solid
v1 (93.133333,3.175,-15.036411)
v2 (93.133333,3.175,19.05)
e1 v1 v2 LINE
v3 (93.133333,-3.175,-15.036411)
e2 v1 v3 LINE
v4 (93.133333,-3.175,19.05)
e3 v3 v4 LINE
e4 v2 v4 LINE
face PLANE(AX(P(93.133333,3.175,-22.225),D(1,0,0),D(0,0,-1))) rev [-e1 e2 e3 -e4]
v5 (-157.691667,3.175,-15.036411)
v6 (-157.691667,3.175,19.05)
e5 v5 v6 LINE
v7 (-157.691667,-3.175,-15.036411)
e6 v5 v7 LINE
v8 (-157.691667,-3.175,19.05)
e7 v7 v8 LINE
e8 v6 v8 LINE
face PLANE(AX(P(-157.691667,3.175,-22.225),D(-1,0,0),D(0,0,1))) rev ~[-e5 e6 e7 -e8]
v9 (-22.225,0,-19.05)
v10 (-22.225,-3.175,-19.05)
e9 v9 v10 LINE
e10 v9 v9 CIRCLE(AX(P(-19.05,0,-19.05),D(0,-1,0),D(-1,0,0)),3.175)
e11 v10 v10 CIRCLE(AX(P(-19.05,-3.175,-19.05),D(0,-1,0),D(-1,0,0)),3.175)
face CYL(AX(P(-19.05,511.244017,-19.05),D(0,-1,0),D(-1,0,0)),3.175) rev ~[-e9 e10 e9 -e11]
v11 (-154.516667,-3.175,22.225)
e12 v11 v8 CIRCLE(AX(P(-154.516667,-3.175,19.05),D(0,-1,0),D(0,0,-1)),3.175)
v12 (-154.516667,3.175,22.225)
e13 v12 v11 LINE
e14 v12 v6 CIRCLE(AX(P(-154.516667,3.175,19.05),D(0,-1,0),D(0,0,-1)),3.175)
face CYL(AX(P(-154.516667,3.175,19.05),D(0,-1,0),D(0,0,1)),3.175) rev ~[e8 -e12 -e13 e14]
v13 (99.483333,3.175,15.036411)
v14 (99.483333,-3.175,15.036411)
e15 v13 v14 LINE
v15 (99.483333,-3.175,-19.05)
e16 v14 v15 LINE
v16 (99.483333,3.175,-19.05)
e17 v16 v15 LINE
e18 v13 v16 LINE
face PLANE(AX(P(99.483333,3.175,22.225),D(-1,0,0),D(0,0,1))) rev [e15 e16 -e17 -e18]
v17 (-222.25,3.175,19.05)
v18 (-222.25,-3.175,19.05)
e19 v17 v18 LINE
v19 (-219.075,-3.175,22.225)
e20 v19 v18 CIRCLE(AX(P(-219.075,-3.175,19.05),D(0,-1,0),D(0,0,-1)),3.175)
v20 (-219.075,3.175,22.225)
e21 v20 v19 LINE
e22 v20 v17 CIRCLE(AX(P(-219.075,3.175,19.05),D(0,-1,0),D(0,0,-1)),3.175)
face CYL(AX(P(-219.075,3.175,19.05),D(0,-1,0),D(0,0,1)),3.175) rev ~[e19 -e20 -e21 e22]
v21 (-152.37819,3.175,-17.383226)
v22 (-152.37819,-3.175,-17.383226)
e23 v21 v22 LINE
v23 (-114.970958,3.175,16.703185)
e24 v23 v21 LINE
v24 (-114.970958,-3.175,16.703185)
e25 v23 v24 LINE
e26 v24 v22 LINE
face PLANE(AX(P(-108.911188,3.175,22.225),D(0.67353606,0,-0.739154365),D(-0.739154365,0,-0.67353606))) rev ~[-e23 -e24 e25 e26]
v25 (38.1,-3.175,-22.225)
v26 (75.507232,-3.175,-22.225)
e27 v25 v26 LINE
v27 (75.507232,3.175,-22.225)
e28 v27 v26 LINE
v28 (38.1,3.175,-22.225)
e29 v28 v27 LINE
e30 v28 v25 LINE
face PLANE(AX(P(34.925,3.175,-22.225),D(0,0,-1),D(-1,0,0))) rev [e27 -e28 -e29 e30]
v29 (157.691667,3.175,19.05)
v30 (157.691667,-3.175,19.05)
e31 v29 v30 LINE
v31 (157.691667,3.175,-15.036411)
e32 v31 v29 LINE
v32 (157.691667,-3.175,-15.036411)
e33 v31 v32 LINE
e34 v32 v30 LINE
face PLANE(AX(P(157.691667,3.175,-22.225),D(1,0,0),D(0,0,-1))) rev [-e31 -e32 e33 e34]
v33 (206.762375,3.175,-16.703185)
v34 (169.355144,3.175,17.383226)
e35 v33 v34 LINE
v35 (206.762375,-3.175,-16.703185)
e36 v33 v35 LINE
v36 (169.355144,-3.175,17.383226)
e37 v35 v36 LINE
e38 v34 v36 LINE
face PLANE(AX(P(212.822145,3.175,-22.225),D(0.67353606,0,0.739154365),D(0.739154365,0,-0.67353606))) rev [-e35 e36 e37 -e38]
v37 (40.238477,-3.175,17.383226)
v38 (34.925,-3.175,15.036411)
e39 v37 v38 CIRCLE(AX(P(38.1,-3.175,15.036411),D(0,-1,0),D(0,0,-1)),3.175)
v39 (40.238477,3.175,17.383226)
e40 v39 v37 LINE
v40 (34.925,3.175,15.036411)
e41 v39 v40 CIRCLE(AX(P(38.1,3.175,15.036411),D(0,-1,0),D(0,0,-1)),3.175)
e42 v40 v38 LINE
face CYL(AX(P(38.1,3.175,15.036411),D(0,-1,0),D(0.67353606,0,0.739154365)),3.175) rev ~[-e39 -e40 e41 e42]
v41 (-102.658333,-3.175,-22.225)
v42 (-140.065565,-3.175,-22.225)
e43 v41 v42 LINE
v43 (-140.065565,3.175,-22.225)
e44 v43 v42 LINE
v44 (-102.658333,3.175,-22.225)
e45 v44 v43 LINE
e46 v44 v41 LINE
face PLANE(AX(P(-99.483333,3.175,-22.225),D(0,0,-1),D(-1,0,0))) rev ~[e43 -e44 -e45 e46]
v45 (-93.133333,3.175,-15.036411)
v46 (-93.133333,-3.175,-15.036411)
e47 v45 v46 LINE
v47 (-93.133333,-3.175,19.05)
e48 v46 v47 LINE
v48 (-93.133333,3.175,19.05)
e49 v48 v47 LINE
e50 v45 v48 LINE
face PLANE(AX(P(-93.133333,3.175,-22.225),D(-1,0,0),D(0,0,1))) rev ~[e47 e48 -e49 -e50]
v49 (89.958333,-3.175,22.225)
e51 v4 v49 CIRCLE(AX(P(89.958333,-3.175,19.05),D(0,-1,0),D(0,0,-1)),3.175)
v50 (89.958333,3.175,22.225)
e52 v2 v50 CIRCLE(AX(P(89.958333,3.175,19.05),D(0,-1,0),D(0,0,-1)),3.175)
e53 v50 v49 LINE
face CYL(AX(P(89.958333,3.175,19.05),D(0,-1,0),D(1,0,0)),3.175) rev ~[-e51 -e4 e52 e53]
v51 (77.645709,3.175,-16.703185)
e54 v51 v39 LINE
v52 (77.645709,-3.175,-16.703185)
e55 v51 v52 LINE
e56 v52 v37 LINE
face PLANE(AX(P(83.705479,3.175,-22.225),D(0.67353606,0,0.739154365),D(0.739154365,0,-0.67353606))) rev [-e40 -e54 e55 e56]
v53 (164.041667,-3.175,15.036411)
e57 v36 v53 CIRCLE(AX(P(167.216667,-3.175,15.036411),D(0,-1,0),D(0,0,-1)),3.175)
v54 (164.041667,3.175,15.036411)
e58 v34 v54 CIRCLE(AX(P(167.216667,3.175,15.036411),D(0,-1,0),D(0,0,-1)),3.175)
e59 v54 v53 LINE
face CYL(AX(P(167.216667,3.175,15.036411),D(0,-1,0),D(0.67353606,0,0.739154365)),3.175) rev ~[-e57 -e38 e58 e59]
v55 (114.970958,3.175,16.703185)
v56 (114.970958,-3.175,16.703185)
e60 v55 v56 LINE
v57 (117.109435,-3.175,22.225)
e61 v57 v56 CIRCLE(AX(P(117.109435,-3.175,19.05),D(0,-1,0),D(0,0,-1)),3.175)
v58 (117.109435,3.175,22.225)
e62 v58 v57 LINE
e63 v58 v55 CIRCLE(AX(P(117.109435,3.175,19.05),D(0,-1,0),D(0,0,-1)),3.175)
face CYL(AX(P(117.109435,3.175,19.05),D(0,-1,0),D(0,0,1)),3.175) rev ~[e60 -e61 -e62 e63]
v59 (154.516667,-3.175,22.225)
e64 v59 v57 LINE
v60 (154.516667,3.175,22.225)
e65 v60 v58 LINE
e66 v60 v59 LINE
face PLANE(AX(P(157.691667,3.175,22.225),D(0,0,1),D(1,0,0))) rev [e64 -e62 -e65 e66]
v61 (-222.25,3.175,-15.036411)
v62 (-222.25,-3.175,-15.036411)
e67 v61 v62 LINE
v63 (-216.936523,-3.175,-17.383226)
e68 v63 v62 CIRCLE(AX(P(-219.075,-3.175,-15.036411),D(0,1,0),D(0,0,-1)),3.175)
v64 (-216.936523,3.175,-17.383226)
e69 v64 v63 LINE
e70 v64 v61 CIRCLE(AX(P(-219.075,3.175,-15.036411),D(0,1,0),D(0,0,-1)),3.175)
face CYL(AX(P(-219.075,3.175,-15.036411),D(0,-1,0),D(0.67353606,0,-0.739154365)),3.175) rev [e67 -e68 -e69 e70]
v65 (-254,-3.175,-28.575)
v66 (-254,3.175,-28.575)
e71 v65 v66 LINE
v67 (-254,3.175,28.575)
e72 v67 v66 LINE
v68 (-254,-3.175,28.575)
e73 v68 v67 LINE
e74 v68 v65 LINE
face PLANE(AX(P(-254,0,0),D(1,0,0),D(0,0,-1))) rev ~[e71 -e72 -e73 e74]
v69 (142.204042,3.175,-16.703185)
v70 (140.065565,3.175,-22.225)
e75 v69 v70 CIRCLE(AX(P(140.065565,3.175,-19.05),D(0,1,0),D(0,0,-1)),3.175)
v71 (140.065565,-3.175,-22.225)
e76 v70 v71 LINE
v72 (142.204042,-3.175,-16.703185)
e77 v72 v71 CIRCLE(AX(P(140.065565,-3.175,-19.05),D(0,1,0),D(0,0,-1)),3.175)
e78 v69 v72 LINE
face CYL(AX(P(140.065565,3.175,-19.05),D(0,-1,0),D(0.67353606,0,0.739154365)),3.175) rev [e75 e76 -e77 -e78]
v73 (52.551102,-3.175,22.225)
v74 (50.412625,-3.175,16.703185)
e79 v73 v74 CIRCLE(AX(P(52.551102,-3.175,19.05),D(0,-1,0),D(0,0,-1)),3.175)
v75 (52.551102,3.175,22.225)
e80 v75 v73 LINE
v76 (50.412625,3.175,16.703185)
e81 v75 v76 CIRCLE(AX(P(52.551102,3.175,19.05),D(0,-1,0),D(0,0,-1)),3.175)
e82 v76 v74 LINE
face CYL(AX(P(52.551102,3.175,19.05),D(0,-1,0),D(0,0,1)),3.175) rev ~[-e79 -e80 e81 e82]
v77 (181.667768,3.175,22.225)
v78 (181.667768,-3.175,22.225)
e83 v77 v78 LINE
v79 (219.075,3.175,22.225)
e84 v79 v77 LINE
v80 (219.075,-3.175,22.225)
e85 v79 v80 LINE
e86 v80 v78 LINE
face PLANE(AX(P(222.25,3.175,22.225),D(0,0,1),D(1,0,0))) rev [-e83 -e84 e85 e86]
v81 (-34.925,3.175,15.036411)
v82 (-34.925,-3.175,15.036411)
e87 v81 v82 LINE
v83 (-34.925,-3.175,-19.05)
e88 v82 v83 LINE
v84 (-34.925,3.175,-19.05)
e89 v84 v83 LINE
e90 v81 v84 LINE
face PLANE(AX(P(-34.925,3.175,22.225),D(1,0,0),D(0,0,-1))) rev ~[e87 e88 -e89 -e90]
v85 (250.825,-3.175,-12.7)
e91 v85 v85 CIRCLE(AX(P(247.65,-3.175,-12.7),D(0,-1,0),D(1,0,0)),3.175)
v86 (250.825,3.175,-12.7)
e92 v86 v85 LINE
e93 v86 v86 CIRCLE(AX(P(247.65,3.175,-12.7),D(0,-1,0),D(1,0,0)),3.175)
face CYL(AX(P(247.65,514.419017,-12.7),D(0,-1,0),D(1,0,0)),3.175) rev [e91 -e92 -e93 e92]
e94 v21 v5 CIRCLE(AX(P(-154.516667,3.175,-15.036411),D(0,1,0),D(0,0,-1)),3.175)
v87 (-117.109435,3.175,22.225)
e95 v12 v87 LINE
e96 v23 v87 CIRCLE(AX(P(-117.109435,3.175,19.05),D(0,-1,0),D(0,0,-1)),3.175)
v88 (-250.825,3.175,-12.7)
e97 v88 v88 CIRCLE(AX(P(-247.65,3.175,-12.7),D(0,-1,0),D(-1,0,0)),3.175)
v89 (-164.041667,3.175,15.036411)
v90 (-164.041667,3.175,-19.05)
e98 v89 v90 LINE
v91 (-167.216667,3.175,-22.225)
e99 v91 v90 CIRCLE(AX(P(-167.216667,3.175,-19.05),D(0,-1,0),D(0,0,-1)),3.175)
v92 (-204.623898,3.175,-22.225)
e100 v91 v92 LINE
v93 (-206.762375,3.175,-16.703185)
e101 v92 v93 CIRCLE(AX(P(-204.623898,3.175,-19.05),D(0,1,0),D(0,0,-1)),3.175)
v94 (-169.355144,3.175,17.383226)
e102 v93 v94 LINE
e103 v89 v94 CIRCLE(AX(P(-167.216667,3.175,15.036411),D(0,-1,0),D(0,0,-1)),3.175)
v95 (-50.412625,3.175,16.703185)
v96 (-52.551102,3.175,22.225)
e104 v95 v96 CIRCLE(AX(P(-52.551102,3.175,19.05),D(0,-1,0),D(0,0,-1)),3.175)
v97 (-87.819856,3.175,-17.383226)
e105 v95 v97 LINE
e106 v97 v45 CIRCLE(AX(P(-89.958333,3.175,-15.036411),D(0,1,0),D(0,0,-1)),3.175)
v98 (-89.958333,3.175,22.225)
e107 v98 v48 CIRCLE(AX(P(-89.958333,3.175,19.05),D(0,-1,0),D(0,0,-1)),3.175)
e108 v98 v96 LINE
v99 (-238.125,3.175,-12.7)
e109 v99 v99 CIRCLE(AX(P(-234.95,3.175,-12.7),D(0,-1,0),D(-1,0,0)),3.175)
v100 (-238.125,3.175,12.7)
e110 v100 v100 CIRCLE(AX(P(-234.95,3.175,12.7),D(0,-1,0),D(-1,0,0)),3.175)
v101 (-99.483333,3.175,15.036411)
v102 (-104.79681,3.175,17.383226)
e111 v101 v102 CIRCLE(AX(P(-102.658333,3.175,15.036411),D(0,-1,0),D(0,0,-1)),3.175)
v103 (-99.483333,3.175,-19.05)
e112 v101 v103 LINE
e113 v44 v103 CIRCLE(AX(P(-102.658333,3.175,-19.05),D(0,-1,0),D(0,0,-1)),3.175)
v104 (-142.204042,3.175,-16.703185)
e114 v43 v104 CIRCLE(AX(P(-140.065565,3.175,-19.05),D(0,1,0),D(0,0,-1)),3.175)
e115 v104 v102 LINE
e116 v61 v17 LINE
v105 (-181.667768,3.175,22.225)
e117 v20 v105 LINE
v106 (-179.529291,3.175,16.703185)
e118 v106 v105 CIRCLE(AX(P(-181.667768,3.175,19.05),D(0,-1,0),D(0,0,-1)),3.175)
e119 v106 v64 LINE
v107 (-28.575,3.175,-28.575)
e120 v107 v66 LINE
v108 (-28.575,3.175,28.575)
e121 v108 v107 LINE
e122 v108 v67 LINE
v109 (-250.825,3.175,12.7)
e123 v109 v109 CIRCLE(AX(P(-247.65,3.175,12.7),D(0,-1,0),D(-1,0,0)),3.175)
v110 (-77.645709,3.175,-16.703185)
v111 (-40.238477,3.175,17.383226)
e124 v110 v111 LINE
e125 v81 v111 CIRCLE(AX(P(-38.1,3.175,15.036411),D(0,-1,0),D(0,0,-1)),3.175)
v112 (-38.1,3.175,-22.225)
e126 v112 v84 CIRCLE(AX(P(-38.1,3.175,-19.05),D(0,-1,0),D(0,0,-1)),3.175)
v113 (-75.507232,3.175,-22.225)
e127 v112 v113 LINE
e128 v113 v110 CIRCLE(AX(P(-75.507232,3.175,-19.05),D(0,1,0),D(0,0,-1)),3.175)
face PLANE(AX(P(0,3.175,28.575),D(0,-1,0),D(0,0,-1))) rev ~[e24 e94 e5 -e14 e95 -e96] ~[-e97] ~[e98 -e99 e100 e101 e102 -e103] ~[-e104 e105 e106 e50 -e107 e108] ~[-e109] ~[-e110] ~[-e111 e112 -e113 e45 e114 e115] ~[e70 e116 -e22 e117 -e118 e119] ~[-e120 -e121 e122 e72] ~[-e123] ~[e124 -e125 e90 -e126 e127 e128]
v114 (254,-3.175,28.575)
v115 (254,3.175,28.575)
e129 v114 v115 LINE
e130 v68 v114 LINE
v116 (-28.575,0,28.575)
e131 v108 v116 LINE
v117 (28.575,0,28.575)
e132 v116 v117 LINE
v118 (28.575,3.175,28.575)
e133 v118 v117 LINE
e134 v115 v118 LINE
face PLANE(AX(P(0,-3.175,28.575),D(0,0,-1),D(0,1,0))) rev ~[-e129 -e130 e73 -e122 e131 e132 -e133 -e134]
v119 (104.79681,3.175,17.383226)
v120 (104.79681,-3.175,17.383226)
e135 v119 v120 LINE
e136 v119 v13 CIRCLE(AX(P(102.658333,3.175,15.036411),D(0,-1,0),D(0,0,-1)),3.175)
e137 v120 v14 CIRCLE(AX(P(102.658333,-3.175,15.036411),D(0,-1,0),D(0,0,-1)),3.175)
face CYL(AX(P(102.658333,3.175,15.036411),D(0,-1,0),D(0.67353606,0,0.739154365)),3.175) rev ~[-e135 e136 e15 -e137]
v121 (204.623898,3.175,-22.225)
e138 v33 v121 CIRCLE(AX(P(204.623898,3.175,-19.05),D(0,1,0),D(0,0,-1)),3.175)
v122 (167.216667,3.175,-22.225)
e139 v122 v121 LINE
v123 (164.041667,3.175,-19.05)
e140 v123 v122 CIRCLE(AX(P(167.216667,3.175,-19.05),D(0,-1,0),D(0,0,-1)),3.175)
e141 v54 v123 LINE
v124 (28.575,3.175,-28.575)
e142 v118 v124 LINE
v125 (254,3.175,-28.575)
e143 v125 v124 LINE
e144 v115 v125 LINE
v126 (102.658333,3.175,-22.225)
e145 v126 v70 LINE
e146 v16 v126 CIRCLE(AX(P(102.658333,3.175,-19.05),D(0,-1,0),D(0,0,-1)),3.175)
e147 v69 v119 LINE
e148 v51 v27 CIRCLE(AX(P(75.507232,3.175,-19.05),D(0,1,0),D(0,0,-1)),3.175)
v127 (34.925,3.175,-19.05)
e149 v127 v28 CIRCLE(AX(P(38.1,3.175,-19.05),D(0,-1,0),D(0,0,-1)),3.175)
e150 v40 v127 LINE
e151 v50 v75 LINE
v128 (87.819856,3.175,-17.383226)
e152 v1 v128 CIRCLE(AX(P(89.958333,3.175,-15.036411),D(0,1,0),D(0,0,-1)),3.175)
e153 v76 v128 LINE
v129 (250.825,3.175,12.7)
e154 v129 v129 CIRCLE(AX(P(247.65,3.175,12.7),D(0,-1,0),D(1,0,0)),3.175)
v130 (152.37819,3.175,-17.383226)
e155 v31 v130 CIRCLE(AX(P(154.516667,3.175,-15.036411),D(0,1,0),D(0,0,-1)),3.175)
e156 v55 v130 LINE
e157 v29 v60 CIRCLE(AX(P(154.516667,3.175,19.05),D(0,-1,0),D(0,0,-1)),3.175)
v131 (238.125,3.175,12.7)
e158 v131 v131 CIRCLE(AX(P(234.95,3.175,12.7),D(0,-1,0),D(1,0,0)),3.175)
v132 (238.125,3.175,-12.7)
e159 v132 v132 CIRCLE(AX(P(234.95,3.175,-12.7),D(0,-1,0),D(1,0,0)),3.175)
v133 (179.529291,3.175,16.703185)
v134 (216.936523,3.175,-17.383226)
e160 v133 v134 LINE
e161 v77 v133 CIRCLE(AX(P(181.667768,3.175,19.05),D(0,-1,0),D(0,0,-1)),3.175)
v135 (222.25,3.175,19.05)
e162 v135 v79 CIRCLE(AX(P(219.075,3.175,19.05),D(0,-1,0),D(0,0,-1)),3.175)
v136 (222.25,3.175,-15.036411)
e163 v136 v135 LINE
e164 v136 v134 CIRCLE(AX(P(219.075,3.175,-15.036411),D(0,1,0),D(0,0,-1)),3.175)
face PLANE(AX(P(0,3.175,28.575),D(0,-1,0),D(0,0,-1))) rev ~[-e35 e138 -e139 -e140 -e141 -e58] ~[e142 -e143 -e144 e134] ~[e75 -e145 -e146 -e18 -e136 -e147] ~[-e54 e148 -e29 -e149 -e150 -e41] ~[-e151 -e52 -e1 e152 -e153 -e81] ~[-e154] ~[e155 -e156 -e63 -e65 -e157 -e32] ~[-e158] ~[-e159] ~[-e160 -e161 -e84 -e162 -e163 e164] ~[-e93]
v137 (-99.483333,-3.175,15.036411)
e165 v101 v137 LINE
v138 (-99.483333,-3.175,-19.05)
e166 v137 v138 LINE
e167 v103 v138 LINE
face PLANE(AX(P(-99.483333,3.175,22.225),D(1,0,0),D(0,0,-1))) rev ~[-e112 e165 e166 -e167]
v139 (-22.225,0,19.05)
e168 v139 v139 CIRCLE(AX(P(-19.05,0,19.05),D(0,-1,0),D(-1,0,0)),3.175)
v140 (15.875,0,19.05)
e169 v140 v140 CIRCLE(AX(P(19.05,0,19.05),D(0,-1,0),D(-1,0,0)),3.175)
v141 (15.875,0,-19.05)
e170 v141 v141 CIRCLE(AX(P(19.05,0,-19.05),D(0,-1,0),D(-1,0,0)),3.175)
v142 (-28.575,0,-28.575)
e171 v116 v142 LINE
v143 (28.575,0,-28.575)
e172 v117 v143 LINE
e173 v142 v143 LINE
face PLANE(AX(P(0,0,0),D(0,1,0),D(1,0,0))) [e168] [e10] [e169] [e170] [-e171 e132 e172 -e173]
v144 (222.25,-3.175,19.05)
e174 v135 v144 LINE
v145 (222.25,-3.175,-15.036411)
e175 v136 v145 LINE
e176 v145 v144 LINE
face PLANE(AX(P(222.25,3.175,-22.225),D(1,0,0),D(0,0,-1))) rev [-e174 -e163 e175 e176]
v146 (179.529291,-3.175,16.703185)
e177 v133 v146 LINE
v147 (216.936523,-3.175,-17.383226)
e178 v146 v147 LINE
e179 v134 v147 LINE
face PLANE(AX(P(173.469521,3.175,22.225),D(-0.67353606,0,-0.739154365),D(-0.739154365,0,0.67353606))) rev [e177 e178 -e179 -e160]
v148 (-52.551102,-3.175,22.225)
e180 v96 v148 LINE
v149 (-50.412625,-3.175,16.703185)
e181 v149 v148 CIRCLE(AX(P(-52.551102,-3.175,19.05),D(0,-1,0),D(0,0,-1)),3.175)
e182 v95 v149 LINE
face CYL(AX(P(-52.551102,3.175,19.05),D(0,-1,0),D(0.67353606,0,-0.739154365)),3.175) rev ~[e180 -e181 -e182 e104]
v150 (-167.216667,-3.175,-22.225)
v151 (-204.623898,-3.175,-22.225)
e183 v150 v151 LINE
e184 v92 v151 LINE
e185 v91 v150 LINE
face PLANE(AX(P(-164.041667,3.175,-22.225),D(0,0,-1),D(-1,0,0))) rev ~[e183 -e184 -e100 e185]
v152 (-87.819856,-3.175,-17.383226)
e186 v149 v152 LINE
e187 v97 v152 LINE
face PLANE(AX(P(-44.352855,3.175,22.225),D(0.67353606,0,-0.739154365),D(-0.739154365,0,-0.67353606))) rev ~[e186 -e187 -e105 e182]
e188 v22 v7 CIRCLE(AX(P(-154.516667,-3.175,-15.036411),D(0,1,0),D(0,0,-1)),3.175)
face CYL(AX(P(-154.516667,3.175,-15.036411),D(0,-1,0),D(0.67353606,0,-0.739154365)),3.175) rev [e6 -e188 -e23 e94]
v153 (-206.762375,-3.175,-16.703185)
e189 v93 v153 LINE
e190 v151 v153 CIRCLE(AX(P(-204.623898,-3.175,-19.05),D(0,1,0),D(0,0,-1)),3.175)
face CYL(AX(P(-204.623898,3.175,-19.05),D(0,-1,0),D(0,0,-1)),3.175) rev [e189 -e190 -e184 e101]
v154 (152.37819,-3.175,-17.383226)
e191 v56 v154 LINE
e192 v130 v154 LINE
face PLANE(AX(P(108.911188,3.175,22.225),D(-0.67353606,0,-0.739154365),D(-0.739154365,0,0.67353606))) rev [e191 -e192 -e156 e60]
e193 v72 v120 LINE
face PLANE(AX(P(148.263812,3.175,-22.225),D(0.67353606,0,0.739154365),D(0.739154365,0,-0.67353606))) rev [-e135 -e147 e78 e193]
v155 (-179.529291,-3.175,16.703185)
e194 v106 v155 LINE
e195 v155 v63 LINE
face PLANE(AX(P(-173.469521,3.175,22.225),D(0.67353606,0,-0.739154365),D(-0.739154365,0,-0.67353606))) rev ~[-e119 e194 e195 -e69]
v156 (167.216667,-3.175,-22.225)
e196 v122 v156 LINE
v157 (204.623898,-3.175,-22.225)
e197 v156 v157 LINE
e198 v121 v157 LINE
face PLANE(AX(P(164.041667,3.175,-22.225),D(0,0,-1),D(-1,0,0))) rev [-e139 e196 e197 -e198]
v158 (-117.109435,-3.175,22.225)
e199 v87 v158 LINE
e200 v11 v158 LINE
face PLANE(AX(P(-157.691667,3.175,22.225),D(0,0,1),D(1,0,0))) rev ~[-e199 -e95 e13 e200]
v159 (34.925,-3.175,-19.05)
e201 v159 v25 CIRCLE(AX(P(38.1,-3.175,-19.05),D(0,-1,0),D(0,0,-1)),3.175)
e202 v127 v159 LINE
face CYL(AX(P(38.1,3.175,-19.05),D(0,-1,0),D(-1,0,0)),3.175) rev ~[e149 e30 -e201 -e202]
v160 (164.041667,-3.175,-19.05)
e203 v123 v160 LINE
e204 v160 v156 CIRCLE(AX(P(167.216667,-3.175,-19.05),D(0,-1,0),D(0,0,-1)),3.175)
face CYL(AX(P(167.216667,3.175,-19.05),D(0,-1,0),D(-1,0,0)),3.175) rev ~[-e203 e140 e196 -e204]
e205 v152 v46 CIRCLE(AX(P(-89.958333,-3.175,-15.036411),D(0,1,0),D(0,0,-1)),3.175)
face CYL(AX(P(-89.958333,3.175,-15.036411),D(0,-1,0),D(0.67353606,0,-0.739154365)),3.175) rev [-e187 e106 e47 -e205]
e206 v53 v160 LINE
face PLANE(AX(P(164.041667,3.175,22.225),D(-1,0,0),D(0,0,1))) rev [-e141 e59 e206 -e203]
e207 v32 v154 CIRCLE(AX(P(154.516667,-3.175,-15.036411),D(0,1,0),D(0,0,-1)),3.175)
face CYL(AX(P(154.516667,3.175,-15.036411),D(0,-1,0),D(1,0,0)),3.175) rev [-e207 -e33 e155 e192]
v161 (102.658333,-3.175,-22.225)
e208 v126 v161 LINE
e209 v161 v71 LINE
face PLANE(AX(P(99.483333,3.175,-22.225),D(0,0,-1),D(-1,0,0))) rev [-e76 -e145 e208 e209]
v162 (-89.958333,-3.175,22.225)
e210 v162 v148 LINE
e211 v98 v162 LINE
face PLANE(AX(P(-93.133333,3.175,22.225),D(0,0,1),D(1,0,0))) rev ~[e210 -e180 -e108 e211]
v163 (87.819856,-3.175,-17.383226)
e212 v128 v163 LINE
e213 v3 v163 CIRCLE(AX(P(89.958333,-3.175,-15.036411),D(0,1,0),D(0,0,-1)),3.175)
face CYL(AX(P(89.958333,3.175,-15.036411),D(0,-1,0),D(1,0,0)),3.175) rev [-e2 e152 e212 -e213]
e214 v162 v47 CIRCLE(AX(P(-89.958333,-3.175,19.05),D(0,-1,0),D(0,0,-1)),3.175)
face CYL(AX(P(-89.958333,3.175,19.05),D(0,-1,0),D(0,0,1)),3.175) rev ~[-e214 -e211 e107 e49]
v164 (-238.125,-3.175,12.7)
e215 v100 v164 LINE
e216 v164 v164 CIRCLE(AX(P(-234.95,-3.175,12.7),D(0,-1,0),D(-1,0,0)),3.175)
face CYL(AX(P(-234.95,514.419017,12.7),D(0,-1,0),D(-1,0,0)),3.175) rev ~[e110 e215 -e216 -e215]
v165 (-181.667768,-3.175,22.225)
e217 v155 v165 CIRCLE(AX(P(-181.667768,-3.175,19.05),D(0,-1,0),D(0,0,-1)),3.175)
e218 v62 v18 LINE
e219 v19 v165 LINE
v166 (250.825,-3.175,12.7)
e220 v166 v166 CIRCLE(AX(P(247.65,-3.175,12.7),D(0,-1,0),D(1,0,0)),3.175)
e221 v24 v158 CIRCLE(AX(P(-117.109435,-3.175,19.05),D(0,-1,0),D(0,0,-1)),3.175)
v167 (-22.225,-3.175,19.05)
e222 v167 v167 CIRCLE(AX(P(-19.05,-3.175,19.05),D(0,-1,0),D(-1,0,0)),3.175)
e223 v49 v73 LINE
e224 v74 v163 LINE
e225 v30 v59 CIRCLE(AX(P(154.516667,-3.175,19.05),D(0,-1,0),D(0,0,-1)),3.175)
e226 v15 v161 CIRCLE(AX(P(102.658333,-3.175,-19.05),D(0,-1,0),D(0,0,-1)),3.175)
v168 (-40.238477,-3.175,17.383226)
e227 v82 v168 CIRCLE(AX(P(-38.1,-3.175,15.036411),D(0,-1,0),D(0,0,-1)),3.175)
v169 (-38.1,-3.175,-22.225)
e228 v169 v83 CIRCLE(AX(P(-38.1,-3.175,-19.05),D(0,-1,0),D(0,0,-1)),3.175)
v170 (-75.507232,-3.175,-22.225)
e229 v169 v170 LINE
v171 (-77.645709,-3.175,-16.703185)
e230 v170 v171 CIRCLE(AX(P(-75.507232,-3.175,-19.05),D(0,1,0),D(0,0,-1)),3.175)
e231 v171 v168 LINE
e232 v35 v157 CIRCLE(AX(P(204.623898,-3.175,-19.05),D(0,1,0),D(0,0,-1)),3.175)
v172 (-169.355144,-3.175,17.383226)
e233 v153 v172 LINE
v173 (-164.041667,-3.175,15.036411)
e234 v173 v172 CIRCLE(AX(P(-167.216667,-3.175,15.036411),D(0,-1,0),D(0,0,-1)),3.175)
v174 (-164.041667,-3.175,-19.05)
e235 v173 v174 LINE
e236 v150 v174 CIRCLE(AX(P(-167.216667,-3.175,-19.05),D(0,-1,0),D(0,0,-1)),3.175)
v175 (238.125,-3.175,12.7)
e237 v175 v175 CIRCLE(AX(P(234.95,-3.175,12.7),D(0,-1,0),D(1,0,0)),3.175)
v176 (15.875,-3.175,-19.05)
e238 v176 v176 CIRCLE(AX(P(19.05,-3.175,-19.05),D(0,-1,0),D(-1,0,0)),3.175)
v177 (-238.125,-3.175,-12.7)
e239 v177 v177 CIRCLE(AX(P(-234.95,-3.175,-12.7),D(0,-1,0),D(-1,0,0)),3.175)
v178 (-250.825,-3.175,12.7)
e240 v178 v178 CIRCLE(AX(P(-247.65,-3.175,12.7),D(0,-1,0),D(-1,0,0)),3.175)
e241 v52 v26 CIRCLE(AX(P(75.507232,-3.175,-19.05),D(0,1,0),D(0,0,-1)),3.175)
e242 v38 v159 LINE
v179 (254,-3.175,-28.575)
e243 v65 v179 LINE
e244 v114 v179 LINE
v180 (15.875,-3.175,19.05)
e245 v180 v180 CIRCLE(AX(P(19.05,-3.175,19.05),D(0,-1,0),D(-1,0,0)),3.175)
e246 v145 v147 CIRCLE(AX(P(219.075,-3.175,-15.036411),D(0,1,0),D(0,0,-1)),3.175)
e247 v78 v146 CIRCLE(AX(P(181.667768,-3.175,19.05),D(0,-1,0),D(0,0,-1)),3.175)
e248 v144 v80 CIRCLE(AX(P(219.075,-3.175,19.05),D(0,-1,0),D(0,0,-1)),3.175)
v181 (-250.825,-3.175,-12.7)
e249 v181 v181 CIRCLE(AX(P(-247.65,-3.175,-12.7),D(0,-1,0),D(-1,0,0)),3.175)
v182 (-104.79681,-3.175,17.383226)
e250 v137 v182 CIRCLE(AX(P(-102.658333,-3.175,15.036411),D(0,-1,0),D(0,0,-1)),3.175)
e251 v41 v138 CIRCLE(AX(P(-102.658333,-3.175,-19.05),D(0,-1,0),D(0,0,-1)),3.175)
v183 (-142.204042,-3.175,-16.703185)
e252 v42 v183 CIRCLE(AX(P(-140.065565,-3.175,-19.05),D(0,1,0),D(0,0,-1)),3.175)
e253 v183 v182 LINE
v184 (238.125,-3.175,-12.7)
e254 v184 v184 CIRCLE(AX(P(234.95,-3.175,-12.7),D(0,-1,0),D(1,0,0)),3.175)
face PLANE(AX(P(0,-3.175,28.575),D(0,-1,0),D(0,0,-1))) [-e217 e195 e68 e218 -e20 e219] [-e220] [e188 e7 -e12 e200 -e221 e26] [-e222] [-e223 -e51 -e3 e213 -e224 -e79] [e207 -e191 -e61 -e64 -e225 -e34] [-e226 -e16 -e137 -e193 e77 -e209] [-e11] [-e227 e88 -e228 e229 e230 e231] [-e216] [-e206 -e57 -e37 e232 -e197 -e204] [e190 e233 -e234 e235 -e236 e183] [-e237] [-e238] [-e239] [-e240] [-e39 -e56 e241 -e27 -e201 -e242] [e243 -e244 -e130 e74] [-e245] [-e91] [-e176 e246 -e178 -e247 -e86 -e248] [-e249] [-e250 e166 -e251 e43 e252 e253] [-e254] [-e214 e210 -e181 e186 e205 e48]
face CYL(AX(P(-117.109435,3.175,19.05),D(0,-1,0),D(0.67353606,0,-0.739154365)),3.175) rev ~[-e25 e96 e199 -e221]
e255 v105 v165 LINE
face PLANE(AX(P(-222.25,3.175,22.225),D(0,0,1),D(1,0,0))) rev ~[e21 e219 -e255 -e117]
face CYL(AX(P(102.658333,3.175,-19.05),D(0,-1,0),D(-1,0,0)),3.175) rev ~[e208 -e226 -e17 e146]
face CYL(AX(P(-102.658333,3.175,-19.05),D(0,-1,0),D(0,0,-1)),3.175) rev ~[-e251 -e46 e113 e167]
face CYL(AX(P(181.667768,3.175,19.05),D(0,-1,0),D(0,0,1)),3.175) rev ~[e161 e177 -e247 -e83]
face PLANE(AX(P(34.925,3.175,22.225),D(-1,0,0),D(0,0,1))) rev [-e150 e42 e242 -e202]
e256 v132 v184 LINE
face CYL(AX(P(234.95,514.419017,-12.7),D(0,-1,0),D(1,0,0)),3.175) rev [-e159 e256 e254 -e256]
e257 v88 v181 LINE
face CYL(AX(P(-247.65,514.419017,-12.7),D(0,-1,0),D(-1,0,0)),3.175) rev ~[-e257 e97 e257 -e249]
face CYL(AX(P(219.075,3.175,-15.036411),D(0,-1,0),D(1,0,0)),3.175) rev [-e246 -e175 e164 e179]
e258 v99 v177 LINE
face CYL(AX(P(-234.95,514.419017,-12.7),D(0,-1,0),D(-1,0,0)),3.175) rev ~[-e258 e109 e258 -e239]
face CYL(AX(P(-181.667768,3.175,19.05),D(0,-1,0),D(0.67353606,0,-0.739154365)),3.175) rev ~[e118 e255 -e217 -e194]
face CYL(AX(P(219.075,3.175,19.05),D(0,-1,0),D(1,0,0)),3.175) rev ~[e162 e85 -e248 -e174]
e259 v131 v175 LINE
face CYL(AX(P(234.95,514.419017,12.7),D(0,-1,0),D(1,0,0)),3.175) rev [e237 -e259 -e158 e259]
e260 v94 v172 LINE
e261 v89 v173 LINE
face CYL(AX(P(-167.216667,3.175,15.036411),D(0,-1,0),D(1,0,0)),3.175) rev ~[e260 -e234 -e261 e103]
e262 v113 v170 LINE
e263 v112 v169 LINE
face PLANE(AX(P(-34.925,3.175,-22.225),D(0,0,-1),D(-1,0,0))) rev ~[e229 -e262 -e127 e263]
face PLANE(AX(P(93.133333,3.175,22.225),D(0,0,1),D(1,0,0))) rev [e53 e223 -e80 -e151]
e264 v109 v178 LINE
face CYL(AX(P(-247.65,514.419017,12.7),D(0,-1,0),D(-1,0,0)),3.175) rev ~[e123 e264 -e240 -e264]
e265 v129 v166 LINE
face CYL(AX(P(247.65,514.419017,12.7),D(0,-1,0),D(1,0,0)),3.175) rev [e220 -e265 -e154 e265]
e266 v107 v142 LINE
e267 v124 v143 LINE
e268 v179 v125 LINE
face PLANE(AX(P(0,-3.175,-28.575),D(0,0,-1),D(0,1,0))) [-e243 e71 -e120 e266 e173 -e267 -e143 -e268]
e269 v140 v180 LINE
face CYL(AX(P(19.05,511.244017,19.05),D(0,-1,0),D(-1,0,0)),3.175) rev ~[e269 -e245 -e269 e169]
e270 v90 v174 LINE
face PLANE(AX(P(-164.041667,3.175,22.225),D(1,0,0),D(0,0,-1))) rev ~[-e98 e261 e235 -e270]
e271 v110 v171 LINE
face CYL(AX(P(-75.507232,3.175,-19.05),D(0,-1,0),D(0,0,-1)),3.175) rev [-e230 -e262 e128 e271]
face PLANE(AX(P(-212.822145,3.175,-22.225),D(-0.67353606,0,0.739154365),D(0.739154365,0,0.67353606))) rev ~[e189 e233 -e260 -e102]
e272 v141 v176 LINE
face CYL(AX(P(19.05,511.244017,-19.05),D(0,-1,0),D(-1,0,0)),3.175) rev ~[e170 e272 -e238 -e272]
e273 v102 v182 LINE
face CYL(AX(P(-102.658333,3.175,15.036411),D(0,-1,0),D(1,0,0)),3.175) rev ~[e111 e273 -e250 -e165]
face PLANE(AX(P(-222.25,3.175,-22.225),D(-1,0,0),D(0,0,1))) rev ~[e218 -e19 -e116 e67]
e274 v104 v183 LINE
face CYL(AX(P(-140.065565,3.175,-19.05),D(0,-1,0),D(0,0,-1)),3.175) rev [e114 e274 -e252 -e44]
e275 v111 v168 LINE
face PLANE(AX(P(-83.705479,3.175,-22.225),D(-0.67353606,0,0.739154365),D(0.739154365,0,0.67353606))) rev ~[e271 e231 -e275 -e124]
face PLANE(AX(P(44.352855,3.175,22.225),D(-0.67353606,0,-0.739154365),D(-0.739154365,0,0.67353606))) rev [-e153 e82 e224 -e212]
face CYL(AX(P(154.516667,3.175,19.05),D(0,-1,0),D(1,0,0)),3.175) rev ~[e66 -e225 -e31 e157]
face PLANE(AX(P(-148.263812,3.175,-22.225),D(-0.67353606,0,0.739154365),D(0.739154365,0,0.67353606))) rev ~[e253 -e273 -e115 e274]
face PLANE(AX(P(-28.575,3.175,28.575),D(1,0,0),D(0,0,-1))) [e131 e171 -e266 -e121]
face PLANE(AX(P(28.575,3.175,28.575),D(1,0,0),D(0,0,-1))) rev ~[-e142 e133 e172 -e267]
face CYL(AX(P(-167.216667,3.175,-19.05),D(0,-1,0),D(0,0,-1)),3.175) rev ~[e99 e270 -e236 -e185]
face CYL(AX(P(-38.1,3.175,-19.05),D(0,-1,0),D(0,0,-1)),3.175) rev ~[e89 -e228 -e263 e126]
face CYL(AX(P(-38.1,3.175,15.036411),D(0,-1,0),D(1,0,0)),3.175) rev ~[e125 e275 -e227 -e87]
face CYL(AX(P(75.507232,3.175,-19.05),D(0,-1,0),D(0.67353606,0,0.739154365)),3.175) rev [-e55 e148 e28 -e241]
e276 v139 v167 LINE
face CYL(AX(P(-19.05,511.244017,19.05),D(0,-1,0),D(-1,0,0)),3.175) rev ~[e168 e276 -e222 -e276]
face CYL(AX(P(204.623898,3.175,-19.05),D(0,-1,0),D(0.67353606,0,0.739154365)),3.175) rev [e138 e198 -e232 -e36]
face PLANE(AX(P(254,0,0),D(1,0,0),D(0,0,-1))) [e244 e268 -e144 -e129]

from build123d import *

# Parameters (mm, degrees)
SKETCH2_W                   = 57.15
SKETCH2_H                   = 6.35
BOSS_EXTRUDE2_DEPTH         = 254
F_1_4_0_25_DIAMETER_HOLE1_D = 6.35
CUT_EXTRUDE1_REACH          = 257.681
FILLET1_R                   = 3.175
FILLET1_OF_MIRROR4_R        = 3.175
SKETCH7_W                   = 57.15
SKETCH7_H                   = 57.15
CUT_EXTRUDE2_DEPTH          = 3.175
F_1_4_0_25_DIAMETER_HOLE2_D = 6.35


with BuildPart() as part:
    # Sketch2 → Boss-Extrude2 (new, symmetric)
    with BuildSketch(Plane(origin=(0, 0, 0), x_dir=(0, 0, -1), z_dir=(1, 0, 0))):
        Rectangle(SKETCH2_W, SKETCH2_H)
    extrude(amount=BOSS_EXTRUDE2_DEPTH, both=True)

    # 1/4 (0.25) Diameter Hole1 (through all)
    with Locations(Plane(origin=(0, 3.175, 0), x_dir=(1, 0, 0), z_dir=(0, 1, 0))):
        with Locations((-247.65, -12.7), (-247.65, 12.7), (-234.95, 12.7), (-234.95, -12.7)):
            f_1_4_0_25_diameter_hole1 = Hole(F_1_4_0_25_DIAMETER_HOLE1_D / 2)

    # Mirror1: 1/4 (0.25) Diameter Hole1 across plane
    add(f_1_4_0_25_diameter_hole1.mirror(Plane(origin=(0, 0, 0), x_dir=(0, 0, 1), z_dir=(1, 0, 0))), mode=Mode.SUBTRACT)

    # Sketch6 → Cut-Extrude1 (cut, up to next)
    with BuildSketch(Plane(origin=(0, 3.175, 0), x_dir=(1, 0, 0), z_dir=(0, 1, 0)), mode=Mode.PRIVATE) as cut_extrude1_sk1:
        Polygon((-222.25, 22.225), (-222.25, -22.225), (-173.469521198, -22.225), align=None)
    cut_extrude1_tool1 = extrude(cut_extrude1_sk1.sketch, amount=-CUT_EXTRUDE1_REACH, mode=Mode.PRIVATE) & part.part
    # Sketch6 → Cut-Extrude1 (cut, up to next)
    with BuildSketch(Plane(origin=(0, 3.175, 0), x_dir=(1, 0, 0), z_dir=(0, 1, 0)), mode=Mode.PRIVATE) as cut_extrude1_sk2:
        Polygon((-212.822145469, 22.225), (-164.041666667, -22.225), (-164.041666667, 22.225), align=None)
    cut_extrude1_tool2 = extrude(cut_extrude1_sk2.sketch, amount=-CUT_EXTRUDE1_REACH, mode=Mode.PRIVATE) & part.part
    # Sketch6 → Cut-Extrude1 (cut, up to next)
    with BuildSketch(Plane(origin=(0, 3.175, 0), x_dir=(1, 0, 0), z_dir=(0, 1, 0)), mode=Mode.PRIVATE) as cut_extrude1_sk3:
        Polygon((-157.691666667, 22.225), (-157.691666667, -22.225), (-108.911187865, -22.225), align=None)
    cut_extrude1_tool3 = extrude(cut_extrude1_sk3.sketch, amount=-CUT_EXTRUDE1_REACH, mode=Mode.PRIVATE) & part.part
    # Sketch6 → Cut-Extrude1 (cut, up to next)
    with BuildSketch(Plane(origin=(0, 3.175, 0), x_dir=(1, 0, 0), z_dir=(0, 1, 0)), mode=Mode.PRIVATE) as cut_extrude1_sk4:
        Polygon((-148.263812135, 22.225), (-99.483333333, -22.225), (-99.483333333, 22.225), align=None)
    cut_extrude1_tool4 = extrude(cut_extrude1_sk4.sketch, amount=-CUT_EXTRUDE1_REACH, mode=Mode.PRIVATE) & part.part
    # Sketch6 → Cut-Extrude1 (cut, up to next)
    with BuildSketch(Plane(origin=(0, 3.175, 0), x_dir=(1, 0, 0), z_dir=(0, 1, 0)), mode=Mode.PRIVATE) as cut_extrude1_sk5:
        Polygon((-93.133333333, 22.225), (-93.133333333, -22.225), (-44.352854531, -22.225), align=None)
    cut_extrude1_tool5 = extrude(cut_extrude1_sk5.sketch, amount=-CUT_EXTRUDE1_REACH, mode=Mode.PRIVATE) & part.part
    # Sketch6 → Cut-Extrude1 (cut, up to next)
    with BuildSketch(Plane(origin=(0, 3.175, 0), x_dir=(1, 0, 0), z_dir=(0, 1, 0)), mode=Mode.PRIVATE) as cut_extrude1_sk6:
        Polygon((-83.705478802, 22.225), (-34.925, -22.225), (-34.925, 22.225), align=None)
    cut_extrude1_tool6 = extrude(cut_extrude1_sk6.sketch, amount=-CUT_EXTRUDE1_REACH, mode=Mode.PRIVATE) & part.part
    cut_extrude1_1 = cut_extrude1_tool1.solids().sort_by_distance((-205.98984, 3.175, 7.408333))[0]
    add(cut_extrude1_1, mode=Mode.SUBTRACT)
    cut_extrude1_2 = cut_extrude1_tool2.solids().sort_by_distance((-180.301826, 3.175, -7.408333))[0]
    add(cut_extrude1_2, mode=Mode.SUBTRACT)
    cut_extrude1_3 = cut_extrude1_tool3.solids().sort_by_distance((-141.431507, 3.175, 7.408333))[0]
    add(cut_extrude1_3, mode=Mode.SUBTRACT)
    cut_extrude1_4 = cut_extrude1_tool4.solids().sort_by_distance((-115.743493, 3.175, -7.408333))[0]
    add(cut_extrude1_4, mode=Mode.SUBTRACT)
    cut_extrude1_5 = cut_extrude1_tool5.solids().sort_by_distance((-76.873174, 3.175, 7.408333))[0]
    add(cut_extrude1_5, mode=Mode.SUBTRACT)
    cut_extrude1_6 = cut_extrude1_tool6.solids().sort_by_distance((-51.18516, 3.175, -7.408333))[0]
    add(cut_extrude1_6, mode=Mode.SUBTRACT)
    cut_extrude1 = cut_extrude1_1 + cut_extrude1_2 + cut_extrude1_3 + cut_extrude1_4 + cut_extrude1_5 + cut_extrude1_6  # Cut-Extrude1 as one shape, for the pattern or mirror that repeats it

    # Fillet1
    fillet1_edges = [part.edges().sort_by_distance(p)[0] for p in [
        (-93.133333333, 0, -22.225),
        (-44.352854531, 0, 22.225),
        (-93.133333333, 0, 22.225),
        (-83.705478802, 0, -22.225),
        (-34.925, 0, -22.225),
        (-34.925, 0, 22.225),
        (-222.25, 0, -22.225),
        (-173.469521198, 0, 22.225),
        (-222.25, 0, 22.225),
        (-212.822145469, 0, -22.225),
        (-164.041666667, 0, -22.225),
        (-164.041666667, 0, 22.225),
        (-157.691666667, 0, -22.225),
        (-108.911187865, 0, 22.225),
        (-157.691666667, 0, 22.225),
        (-148.263812135, 0, -22.225),
        (-99.483333333, 0, -22.225),
        (-99.483333333, 0, 22.225),
    ]]
    fillet(fillet1_edges, radius=FILLET1_R)

    # Mirror4: Cut-Extrude1 across plane
    add(cut_extrude1.mirror(Plane(origin=(0, 0, 0), x_dir=(0, 0, 1), z_dir=(1, 0, 0))), mode=Mode.SUBTRACT)

    # Fillet1 of Mirror4
    fillet1_of_mirror4_edges = [part.edges().sort_by_distance(p)[0] for p in [
        (93.133333333, 0, -22.225),
        (44.352854531, 0, 22.225),
        (93.133333333, 0, 22.225),
        (83.705478802, 0, -22.225),
        (34.925, 0, -22.225),
        (34.925, 0, 22.225),
        (222.25, 0, -22.225),
        (173.469521198, 0, 22.225),
        (222.25, 0, 22.225),
        (212.822145469, 0, -22.225),
        (164.041666667, 0, -22.225),
        (164.041666667, 0, 22.225),
        (157.691666667, 0, -22.225),
        (108.911187865, 0, 22.225),
        (157.691666667, 0, 22.225),
        (148.263812135, 0, -22.225),
        (99.483333333, 0, -22.225),
        (99.483333333, 0, 22.225),
    ]]
    fillet(fillet1_of_mirror4_edges, radius=FILLET1_OF_MIRROR4_R)

    # Sketch7 → Cut-Extrude2 (cut)
    with BuildSketch(Plane(origin=(0, 3.175, 0), x_dir=(1, 0, 0), z_dir=(0, 1, 0))):
        Rectangle(SKETCH7_W, SKETCH7_H)
    extrude(amount=-CUT_EXTRUDE2_DEPTH, mode=Mode.SUBTRACT)

    # 1/4 (0.25) Diameter Hole2 (through all)
    with Locations(Plane(origin=(0, 0, 0), x_dir=(1, 0, 0), z_dir=(0, 1, 0))):
        with Locations((19.05, -19.05), (-19.05, 19.05), (-19.05, -19.05), (19.05, 19.05)):
            Hole(F_1_4_0_25_DIAMETER_HOLE2_D / 2)


solid = part.part
